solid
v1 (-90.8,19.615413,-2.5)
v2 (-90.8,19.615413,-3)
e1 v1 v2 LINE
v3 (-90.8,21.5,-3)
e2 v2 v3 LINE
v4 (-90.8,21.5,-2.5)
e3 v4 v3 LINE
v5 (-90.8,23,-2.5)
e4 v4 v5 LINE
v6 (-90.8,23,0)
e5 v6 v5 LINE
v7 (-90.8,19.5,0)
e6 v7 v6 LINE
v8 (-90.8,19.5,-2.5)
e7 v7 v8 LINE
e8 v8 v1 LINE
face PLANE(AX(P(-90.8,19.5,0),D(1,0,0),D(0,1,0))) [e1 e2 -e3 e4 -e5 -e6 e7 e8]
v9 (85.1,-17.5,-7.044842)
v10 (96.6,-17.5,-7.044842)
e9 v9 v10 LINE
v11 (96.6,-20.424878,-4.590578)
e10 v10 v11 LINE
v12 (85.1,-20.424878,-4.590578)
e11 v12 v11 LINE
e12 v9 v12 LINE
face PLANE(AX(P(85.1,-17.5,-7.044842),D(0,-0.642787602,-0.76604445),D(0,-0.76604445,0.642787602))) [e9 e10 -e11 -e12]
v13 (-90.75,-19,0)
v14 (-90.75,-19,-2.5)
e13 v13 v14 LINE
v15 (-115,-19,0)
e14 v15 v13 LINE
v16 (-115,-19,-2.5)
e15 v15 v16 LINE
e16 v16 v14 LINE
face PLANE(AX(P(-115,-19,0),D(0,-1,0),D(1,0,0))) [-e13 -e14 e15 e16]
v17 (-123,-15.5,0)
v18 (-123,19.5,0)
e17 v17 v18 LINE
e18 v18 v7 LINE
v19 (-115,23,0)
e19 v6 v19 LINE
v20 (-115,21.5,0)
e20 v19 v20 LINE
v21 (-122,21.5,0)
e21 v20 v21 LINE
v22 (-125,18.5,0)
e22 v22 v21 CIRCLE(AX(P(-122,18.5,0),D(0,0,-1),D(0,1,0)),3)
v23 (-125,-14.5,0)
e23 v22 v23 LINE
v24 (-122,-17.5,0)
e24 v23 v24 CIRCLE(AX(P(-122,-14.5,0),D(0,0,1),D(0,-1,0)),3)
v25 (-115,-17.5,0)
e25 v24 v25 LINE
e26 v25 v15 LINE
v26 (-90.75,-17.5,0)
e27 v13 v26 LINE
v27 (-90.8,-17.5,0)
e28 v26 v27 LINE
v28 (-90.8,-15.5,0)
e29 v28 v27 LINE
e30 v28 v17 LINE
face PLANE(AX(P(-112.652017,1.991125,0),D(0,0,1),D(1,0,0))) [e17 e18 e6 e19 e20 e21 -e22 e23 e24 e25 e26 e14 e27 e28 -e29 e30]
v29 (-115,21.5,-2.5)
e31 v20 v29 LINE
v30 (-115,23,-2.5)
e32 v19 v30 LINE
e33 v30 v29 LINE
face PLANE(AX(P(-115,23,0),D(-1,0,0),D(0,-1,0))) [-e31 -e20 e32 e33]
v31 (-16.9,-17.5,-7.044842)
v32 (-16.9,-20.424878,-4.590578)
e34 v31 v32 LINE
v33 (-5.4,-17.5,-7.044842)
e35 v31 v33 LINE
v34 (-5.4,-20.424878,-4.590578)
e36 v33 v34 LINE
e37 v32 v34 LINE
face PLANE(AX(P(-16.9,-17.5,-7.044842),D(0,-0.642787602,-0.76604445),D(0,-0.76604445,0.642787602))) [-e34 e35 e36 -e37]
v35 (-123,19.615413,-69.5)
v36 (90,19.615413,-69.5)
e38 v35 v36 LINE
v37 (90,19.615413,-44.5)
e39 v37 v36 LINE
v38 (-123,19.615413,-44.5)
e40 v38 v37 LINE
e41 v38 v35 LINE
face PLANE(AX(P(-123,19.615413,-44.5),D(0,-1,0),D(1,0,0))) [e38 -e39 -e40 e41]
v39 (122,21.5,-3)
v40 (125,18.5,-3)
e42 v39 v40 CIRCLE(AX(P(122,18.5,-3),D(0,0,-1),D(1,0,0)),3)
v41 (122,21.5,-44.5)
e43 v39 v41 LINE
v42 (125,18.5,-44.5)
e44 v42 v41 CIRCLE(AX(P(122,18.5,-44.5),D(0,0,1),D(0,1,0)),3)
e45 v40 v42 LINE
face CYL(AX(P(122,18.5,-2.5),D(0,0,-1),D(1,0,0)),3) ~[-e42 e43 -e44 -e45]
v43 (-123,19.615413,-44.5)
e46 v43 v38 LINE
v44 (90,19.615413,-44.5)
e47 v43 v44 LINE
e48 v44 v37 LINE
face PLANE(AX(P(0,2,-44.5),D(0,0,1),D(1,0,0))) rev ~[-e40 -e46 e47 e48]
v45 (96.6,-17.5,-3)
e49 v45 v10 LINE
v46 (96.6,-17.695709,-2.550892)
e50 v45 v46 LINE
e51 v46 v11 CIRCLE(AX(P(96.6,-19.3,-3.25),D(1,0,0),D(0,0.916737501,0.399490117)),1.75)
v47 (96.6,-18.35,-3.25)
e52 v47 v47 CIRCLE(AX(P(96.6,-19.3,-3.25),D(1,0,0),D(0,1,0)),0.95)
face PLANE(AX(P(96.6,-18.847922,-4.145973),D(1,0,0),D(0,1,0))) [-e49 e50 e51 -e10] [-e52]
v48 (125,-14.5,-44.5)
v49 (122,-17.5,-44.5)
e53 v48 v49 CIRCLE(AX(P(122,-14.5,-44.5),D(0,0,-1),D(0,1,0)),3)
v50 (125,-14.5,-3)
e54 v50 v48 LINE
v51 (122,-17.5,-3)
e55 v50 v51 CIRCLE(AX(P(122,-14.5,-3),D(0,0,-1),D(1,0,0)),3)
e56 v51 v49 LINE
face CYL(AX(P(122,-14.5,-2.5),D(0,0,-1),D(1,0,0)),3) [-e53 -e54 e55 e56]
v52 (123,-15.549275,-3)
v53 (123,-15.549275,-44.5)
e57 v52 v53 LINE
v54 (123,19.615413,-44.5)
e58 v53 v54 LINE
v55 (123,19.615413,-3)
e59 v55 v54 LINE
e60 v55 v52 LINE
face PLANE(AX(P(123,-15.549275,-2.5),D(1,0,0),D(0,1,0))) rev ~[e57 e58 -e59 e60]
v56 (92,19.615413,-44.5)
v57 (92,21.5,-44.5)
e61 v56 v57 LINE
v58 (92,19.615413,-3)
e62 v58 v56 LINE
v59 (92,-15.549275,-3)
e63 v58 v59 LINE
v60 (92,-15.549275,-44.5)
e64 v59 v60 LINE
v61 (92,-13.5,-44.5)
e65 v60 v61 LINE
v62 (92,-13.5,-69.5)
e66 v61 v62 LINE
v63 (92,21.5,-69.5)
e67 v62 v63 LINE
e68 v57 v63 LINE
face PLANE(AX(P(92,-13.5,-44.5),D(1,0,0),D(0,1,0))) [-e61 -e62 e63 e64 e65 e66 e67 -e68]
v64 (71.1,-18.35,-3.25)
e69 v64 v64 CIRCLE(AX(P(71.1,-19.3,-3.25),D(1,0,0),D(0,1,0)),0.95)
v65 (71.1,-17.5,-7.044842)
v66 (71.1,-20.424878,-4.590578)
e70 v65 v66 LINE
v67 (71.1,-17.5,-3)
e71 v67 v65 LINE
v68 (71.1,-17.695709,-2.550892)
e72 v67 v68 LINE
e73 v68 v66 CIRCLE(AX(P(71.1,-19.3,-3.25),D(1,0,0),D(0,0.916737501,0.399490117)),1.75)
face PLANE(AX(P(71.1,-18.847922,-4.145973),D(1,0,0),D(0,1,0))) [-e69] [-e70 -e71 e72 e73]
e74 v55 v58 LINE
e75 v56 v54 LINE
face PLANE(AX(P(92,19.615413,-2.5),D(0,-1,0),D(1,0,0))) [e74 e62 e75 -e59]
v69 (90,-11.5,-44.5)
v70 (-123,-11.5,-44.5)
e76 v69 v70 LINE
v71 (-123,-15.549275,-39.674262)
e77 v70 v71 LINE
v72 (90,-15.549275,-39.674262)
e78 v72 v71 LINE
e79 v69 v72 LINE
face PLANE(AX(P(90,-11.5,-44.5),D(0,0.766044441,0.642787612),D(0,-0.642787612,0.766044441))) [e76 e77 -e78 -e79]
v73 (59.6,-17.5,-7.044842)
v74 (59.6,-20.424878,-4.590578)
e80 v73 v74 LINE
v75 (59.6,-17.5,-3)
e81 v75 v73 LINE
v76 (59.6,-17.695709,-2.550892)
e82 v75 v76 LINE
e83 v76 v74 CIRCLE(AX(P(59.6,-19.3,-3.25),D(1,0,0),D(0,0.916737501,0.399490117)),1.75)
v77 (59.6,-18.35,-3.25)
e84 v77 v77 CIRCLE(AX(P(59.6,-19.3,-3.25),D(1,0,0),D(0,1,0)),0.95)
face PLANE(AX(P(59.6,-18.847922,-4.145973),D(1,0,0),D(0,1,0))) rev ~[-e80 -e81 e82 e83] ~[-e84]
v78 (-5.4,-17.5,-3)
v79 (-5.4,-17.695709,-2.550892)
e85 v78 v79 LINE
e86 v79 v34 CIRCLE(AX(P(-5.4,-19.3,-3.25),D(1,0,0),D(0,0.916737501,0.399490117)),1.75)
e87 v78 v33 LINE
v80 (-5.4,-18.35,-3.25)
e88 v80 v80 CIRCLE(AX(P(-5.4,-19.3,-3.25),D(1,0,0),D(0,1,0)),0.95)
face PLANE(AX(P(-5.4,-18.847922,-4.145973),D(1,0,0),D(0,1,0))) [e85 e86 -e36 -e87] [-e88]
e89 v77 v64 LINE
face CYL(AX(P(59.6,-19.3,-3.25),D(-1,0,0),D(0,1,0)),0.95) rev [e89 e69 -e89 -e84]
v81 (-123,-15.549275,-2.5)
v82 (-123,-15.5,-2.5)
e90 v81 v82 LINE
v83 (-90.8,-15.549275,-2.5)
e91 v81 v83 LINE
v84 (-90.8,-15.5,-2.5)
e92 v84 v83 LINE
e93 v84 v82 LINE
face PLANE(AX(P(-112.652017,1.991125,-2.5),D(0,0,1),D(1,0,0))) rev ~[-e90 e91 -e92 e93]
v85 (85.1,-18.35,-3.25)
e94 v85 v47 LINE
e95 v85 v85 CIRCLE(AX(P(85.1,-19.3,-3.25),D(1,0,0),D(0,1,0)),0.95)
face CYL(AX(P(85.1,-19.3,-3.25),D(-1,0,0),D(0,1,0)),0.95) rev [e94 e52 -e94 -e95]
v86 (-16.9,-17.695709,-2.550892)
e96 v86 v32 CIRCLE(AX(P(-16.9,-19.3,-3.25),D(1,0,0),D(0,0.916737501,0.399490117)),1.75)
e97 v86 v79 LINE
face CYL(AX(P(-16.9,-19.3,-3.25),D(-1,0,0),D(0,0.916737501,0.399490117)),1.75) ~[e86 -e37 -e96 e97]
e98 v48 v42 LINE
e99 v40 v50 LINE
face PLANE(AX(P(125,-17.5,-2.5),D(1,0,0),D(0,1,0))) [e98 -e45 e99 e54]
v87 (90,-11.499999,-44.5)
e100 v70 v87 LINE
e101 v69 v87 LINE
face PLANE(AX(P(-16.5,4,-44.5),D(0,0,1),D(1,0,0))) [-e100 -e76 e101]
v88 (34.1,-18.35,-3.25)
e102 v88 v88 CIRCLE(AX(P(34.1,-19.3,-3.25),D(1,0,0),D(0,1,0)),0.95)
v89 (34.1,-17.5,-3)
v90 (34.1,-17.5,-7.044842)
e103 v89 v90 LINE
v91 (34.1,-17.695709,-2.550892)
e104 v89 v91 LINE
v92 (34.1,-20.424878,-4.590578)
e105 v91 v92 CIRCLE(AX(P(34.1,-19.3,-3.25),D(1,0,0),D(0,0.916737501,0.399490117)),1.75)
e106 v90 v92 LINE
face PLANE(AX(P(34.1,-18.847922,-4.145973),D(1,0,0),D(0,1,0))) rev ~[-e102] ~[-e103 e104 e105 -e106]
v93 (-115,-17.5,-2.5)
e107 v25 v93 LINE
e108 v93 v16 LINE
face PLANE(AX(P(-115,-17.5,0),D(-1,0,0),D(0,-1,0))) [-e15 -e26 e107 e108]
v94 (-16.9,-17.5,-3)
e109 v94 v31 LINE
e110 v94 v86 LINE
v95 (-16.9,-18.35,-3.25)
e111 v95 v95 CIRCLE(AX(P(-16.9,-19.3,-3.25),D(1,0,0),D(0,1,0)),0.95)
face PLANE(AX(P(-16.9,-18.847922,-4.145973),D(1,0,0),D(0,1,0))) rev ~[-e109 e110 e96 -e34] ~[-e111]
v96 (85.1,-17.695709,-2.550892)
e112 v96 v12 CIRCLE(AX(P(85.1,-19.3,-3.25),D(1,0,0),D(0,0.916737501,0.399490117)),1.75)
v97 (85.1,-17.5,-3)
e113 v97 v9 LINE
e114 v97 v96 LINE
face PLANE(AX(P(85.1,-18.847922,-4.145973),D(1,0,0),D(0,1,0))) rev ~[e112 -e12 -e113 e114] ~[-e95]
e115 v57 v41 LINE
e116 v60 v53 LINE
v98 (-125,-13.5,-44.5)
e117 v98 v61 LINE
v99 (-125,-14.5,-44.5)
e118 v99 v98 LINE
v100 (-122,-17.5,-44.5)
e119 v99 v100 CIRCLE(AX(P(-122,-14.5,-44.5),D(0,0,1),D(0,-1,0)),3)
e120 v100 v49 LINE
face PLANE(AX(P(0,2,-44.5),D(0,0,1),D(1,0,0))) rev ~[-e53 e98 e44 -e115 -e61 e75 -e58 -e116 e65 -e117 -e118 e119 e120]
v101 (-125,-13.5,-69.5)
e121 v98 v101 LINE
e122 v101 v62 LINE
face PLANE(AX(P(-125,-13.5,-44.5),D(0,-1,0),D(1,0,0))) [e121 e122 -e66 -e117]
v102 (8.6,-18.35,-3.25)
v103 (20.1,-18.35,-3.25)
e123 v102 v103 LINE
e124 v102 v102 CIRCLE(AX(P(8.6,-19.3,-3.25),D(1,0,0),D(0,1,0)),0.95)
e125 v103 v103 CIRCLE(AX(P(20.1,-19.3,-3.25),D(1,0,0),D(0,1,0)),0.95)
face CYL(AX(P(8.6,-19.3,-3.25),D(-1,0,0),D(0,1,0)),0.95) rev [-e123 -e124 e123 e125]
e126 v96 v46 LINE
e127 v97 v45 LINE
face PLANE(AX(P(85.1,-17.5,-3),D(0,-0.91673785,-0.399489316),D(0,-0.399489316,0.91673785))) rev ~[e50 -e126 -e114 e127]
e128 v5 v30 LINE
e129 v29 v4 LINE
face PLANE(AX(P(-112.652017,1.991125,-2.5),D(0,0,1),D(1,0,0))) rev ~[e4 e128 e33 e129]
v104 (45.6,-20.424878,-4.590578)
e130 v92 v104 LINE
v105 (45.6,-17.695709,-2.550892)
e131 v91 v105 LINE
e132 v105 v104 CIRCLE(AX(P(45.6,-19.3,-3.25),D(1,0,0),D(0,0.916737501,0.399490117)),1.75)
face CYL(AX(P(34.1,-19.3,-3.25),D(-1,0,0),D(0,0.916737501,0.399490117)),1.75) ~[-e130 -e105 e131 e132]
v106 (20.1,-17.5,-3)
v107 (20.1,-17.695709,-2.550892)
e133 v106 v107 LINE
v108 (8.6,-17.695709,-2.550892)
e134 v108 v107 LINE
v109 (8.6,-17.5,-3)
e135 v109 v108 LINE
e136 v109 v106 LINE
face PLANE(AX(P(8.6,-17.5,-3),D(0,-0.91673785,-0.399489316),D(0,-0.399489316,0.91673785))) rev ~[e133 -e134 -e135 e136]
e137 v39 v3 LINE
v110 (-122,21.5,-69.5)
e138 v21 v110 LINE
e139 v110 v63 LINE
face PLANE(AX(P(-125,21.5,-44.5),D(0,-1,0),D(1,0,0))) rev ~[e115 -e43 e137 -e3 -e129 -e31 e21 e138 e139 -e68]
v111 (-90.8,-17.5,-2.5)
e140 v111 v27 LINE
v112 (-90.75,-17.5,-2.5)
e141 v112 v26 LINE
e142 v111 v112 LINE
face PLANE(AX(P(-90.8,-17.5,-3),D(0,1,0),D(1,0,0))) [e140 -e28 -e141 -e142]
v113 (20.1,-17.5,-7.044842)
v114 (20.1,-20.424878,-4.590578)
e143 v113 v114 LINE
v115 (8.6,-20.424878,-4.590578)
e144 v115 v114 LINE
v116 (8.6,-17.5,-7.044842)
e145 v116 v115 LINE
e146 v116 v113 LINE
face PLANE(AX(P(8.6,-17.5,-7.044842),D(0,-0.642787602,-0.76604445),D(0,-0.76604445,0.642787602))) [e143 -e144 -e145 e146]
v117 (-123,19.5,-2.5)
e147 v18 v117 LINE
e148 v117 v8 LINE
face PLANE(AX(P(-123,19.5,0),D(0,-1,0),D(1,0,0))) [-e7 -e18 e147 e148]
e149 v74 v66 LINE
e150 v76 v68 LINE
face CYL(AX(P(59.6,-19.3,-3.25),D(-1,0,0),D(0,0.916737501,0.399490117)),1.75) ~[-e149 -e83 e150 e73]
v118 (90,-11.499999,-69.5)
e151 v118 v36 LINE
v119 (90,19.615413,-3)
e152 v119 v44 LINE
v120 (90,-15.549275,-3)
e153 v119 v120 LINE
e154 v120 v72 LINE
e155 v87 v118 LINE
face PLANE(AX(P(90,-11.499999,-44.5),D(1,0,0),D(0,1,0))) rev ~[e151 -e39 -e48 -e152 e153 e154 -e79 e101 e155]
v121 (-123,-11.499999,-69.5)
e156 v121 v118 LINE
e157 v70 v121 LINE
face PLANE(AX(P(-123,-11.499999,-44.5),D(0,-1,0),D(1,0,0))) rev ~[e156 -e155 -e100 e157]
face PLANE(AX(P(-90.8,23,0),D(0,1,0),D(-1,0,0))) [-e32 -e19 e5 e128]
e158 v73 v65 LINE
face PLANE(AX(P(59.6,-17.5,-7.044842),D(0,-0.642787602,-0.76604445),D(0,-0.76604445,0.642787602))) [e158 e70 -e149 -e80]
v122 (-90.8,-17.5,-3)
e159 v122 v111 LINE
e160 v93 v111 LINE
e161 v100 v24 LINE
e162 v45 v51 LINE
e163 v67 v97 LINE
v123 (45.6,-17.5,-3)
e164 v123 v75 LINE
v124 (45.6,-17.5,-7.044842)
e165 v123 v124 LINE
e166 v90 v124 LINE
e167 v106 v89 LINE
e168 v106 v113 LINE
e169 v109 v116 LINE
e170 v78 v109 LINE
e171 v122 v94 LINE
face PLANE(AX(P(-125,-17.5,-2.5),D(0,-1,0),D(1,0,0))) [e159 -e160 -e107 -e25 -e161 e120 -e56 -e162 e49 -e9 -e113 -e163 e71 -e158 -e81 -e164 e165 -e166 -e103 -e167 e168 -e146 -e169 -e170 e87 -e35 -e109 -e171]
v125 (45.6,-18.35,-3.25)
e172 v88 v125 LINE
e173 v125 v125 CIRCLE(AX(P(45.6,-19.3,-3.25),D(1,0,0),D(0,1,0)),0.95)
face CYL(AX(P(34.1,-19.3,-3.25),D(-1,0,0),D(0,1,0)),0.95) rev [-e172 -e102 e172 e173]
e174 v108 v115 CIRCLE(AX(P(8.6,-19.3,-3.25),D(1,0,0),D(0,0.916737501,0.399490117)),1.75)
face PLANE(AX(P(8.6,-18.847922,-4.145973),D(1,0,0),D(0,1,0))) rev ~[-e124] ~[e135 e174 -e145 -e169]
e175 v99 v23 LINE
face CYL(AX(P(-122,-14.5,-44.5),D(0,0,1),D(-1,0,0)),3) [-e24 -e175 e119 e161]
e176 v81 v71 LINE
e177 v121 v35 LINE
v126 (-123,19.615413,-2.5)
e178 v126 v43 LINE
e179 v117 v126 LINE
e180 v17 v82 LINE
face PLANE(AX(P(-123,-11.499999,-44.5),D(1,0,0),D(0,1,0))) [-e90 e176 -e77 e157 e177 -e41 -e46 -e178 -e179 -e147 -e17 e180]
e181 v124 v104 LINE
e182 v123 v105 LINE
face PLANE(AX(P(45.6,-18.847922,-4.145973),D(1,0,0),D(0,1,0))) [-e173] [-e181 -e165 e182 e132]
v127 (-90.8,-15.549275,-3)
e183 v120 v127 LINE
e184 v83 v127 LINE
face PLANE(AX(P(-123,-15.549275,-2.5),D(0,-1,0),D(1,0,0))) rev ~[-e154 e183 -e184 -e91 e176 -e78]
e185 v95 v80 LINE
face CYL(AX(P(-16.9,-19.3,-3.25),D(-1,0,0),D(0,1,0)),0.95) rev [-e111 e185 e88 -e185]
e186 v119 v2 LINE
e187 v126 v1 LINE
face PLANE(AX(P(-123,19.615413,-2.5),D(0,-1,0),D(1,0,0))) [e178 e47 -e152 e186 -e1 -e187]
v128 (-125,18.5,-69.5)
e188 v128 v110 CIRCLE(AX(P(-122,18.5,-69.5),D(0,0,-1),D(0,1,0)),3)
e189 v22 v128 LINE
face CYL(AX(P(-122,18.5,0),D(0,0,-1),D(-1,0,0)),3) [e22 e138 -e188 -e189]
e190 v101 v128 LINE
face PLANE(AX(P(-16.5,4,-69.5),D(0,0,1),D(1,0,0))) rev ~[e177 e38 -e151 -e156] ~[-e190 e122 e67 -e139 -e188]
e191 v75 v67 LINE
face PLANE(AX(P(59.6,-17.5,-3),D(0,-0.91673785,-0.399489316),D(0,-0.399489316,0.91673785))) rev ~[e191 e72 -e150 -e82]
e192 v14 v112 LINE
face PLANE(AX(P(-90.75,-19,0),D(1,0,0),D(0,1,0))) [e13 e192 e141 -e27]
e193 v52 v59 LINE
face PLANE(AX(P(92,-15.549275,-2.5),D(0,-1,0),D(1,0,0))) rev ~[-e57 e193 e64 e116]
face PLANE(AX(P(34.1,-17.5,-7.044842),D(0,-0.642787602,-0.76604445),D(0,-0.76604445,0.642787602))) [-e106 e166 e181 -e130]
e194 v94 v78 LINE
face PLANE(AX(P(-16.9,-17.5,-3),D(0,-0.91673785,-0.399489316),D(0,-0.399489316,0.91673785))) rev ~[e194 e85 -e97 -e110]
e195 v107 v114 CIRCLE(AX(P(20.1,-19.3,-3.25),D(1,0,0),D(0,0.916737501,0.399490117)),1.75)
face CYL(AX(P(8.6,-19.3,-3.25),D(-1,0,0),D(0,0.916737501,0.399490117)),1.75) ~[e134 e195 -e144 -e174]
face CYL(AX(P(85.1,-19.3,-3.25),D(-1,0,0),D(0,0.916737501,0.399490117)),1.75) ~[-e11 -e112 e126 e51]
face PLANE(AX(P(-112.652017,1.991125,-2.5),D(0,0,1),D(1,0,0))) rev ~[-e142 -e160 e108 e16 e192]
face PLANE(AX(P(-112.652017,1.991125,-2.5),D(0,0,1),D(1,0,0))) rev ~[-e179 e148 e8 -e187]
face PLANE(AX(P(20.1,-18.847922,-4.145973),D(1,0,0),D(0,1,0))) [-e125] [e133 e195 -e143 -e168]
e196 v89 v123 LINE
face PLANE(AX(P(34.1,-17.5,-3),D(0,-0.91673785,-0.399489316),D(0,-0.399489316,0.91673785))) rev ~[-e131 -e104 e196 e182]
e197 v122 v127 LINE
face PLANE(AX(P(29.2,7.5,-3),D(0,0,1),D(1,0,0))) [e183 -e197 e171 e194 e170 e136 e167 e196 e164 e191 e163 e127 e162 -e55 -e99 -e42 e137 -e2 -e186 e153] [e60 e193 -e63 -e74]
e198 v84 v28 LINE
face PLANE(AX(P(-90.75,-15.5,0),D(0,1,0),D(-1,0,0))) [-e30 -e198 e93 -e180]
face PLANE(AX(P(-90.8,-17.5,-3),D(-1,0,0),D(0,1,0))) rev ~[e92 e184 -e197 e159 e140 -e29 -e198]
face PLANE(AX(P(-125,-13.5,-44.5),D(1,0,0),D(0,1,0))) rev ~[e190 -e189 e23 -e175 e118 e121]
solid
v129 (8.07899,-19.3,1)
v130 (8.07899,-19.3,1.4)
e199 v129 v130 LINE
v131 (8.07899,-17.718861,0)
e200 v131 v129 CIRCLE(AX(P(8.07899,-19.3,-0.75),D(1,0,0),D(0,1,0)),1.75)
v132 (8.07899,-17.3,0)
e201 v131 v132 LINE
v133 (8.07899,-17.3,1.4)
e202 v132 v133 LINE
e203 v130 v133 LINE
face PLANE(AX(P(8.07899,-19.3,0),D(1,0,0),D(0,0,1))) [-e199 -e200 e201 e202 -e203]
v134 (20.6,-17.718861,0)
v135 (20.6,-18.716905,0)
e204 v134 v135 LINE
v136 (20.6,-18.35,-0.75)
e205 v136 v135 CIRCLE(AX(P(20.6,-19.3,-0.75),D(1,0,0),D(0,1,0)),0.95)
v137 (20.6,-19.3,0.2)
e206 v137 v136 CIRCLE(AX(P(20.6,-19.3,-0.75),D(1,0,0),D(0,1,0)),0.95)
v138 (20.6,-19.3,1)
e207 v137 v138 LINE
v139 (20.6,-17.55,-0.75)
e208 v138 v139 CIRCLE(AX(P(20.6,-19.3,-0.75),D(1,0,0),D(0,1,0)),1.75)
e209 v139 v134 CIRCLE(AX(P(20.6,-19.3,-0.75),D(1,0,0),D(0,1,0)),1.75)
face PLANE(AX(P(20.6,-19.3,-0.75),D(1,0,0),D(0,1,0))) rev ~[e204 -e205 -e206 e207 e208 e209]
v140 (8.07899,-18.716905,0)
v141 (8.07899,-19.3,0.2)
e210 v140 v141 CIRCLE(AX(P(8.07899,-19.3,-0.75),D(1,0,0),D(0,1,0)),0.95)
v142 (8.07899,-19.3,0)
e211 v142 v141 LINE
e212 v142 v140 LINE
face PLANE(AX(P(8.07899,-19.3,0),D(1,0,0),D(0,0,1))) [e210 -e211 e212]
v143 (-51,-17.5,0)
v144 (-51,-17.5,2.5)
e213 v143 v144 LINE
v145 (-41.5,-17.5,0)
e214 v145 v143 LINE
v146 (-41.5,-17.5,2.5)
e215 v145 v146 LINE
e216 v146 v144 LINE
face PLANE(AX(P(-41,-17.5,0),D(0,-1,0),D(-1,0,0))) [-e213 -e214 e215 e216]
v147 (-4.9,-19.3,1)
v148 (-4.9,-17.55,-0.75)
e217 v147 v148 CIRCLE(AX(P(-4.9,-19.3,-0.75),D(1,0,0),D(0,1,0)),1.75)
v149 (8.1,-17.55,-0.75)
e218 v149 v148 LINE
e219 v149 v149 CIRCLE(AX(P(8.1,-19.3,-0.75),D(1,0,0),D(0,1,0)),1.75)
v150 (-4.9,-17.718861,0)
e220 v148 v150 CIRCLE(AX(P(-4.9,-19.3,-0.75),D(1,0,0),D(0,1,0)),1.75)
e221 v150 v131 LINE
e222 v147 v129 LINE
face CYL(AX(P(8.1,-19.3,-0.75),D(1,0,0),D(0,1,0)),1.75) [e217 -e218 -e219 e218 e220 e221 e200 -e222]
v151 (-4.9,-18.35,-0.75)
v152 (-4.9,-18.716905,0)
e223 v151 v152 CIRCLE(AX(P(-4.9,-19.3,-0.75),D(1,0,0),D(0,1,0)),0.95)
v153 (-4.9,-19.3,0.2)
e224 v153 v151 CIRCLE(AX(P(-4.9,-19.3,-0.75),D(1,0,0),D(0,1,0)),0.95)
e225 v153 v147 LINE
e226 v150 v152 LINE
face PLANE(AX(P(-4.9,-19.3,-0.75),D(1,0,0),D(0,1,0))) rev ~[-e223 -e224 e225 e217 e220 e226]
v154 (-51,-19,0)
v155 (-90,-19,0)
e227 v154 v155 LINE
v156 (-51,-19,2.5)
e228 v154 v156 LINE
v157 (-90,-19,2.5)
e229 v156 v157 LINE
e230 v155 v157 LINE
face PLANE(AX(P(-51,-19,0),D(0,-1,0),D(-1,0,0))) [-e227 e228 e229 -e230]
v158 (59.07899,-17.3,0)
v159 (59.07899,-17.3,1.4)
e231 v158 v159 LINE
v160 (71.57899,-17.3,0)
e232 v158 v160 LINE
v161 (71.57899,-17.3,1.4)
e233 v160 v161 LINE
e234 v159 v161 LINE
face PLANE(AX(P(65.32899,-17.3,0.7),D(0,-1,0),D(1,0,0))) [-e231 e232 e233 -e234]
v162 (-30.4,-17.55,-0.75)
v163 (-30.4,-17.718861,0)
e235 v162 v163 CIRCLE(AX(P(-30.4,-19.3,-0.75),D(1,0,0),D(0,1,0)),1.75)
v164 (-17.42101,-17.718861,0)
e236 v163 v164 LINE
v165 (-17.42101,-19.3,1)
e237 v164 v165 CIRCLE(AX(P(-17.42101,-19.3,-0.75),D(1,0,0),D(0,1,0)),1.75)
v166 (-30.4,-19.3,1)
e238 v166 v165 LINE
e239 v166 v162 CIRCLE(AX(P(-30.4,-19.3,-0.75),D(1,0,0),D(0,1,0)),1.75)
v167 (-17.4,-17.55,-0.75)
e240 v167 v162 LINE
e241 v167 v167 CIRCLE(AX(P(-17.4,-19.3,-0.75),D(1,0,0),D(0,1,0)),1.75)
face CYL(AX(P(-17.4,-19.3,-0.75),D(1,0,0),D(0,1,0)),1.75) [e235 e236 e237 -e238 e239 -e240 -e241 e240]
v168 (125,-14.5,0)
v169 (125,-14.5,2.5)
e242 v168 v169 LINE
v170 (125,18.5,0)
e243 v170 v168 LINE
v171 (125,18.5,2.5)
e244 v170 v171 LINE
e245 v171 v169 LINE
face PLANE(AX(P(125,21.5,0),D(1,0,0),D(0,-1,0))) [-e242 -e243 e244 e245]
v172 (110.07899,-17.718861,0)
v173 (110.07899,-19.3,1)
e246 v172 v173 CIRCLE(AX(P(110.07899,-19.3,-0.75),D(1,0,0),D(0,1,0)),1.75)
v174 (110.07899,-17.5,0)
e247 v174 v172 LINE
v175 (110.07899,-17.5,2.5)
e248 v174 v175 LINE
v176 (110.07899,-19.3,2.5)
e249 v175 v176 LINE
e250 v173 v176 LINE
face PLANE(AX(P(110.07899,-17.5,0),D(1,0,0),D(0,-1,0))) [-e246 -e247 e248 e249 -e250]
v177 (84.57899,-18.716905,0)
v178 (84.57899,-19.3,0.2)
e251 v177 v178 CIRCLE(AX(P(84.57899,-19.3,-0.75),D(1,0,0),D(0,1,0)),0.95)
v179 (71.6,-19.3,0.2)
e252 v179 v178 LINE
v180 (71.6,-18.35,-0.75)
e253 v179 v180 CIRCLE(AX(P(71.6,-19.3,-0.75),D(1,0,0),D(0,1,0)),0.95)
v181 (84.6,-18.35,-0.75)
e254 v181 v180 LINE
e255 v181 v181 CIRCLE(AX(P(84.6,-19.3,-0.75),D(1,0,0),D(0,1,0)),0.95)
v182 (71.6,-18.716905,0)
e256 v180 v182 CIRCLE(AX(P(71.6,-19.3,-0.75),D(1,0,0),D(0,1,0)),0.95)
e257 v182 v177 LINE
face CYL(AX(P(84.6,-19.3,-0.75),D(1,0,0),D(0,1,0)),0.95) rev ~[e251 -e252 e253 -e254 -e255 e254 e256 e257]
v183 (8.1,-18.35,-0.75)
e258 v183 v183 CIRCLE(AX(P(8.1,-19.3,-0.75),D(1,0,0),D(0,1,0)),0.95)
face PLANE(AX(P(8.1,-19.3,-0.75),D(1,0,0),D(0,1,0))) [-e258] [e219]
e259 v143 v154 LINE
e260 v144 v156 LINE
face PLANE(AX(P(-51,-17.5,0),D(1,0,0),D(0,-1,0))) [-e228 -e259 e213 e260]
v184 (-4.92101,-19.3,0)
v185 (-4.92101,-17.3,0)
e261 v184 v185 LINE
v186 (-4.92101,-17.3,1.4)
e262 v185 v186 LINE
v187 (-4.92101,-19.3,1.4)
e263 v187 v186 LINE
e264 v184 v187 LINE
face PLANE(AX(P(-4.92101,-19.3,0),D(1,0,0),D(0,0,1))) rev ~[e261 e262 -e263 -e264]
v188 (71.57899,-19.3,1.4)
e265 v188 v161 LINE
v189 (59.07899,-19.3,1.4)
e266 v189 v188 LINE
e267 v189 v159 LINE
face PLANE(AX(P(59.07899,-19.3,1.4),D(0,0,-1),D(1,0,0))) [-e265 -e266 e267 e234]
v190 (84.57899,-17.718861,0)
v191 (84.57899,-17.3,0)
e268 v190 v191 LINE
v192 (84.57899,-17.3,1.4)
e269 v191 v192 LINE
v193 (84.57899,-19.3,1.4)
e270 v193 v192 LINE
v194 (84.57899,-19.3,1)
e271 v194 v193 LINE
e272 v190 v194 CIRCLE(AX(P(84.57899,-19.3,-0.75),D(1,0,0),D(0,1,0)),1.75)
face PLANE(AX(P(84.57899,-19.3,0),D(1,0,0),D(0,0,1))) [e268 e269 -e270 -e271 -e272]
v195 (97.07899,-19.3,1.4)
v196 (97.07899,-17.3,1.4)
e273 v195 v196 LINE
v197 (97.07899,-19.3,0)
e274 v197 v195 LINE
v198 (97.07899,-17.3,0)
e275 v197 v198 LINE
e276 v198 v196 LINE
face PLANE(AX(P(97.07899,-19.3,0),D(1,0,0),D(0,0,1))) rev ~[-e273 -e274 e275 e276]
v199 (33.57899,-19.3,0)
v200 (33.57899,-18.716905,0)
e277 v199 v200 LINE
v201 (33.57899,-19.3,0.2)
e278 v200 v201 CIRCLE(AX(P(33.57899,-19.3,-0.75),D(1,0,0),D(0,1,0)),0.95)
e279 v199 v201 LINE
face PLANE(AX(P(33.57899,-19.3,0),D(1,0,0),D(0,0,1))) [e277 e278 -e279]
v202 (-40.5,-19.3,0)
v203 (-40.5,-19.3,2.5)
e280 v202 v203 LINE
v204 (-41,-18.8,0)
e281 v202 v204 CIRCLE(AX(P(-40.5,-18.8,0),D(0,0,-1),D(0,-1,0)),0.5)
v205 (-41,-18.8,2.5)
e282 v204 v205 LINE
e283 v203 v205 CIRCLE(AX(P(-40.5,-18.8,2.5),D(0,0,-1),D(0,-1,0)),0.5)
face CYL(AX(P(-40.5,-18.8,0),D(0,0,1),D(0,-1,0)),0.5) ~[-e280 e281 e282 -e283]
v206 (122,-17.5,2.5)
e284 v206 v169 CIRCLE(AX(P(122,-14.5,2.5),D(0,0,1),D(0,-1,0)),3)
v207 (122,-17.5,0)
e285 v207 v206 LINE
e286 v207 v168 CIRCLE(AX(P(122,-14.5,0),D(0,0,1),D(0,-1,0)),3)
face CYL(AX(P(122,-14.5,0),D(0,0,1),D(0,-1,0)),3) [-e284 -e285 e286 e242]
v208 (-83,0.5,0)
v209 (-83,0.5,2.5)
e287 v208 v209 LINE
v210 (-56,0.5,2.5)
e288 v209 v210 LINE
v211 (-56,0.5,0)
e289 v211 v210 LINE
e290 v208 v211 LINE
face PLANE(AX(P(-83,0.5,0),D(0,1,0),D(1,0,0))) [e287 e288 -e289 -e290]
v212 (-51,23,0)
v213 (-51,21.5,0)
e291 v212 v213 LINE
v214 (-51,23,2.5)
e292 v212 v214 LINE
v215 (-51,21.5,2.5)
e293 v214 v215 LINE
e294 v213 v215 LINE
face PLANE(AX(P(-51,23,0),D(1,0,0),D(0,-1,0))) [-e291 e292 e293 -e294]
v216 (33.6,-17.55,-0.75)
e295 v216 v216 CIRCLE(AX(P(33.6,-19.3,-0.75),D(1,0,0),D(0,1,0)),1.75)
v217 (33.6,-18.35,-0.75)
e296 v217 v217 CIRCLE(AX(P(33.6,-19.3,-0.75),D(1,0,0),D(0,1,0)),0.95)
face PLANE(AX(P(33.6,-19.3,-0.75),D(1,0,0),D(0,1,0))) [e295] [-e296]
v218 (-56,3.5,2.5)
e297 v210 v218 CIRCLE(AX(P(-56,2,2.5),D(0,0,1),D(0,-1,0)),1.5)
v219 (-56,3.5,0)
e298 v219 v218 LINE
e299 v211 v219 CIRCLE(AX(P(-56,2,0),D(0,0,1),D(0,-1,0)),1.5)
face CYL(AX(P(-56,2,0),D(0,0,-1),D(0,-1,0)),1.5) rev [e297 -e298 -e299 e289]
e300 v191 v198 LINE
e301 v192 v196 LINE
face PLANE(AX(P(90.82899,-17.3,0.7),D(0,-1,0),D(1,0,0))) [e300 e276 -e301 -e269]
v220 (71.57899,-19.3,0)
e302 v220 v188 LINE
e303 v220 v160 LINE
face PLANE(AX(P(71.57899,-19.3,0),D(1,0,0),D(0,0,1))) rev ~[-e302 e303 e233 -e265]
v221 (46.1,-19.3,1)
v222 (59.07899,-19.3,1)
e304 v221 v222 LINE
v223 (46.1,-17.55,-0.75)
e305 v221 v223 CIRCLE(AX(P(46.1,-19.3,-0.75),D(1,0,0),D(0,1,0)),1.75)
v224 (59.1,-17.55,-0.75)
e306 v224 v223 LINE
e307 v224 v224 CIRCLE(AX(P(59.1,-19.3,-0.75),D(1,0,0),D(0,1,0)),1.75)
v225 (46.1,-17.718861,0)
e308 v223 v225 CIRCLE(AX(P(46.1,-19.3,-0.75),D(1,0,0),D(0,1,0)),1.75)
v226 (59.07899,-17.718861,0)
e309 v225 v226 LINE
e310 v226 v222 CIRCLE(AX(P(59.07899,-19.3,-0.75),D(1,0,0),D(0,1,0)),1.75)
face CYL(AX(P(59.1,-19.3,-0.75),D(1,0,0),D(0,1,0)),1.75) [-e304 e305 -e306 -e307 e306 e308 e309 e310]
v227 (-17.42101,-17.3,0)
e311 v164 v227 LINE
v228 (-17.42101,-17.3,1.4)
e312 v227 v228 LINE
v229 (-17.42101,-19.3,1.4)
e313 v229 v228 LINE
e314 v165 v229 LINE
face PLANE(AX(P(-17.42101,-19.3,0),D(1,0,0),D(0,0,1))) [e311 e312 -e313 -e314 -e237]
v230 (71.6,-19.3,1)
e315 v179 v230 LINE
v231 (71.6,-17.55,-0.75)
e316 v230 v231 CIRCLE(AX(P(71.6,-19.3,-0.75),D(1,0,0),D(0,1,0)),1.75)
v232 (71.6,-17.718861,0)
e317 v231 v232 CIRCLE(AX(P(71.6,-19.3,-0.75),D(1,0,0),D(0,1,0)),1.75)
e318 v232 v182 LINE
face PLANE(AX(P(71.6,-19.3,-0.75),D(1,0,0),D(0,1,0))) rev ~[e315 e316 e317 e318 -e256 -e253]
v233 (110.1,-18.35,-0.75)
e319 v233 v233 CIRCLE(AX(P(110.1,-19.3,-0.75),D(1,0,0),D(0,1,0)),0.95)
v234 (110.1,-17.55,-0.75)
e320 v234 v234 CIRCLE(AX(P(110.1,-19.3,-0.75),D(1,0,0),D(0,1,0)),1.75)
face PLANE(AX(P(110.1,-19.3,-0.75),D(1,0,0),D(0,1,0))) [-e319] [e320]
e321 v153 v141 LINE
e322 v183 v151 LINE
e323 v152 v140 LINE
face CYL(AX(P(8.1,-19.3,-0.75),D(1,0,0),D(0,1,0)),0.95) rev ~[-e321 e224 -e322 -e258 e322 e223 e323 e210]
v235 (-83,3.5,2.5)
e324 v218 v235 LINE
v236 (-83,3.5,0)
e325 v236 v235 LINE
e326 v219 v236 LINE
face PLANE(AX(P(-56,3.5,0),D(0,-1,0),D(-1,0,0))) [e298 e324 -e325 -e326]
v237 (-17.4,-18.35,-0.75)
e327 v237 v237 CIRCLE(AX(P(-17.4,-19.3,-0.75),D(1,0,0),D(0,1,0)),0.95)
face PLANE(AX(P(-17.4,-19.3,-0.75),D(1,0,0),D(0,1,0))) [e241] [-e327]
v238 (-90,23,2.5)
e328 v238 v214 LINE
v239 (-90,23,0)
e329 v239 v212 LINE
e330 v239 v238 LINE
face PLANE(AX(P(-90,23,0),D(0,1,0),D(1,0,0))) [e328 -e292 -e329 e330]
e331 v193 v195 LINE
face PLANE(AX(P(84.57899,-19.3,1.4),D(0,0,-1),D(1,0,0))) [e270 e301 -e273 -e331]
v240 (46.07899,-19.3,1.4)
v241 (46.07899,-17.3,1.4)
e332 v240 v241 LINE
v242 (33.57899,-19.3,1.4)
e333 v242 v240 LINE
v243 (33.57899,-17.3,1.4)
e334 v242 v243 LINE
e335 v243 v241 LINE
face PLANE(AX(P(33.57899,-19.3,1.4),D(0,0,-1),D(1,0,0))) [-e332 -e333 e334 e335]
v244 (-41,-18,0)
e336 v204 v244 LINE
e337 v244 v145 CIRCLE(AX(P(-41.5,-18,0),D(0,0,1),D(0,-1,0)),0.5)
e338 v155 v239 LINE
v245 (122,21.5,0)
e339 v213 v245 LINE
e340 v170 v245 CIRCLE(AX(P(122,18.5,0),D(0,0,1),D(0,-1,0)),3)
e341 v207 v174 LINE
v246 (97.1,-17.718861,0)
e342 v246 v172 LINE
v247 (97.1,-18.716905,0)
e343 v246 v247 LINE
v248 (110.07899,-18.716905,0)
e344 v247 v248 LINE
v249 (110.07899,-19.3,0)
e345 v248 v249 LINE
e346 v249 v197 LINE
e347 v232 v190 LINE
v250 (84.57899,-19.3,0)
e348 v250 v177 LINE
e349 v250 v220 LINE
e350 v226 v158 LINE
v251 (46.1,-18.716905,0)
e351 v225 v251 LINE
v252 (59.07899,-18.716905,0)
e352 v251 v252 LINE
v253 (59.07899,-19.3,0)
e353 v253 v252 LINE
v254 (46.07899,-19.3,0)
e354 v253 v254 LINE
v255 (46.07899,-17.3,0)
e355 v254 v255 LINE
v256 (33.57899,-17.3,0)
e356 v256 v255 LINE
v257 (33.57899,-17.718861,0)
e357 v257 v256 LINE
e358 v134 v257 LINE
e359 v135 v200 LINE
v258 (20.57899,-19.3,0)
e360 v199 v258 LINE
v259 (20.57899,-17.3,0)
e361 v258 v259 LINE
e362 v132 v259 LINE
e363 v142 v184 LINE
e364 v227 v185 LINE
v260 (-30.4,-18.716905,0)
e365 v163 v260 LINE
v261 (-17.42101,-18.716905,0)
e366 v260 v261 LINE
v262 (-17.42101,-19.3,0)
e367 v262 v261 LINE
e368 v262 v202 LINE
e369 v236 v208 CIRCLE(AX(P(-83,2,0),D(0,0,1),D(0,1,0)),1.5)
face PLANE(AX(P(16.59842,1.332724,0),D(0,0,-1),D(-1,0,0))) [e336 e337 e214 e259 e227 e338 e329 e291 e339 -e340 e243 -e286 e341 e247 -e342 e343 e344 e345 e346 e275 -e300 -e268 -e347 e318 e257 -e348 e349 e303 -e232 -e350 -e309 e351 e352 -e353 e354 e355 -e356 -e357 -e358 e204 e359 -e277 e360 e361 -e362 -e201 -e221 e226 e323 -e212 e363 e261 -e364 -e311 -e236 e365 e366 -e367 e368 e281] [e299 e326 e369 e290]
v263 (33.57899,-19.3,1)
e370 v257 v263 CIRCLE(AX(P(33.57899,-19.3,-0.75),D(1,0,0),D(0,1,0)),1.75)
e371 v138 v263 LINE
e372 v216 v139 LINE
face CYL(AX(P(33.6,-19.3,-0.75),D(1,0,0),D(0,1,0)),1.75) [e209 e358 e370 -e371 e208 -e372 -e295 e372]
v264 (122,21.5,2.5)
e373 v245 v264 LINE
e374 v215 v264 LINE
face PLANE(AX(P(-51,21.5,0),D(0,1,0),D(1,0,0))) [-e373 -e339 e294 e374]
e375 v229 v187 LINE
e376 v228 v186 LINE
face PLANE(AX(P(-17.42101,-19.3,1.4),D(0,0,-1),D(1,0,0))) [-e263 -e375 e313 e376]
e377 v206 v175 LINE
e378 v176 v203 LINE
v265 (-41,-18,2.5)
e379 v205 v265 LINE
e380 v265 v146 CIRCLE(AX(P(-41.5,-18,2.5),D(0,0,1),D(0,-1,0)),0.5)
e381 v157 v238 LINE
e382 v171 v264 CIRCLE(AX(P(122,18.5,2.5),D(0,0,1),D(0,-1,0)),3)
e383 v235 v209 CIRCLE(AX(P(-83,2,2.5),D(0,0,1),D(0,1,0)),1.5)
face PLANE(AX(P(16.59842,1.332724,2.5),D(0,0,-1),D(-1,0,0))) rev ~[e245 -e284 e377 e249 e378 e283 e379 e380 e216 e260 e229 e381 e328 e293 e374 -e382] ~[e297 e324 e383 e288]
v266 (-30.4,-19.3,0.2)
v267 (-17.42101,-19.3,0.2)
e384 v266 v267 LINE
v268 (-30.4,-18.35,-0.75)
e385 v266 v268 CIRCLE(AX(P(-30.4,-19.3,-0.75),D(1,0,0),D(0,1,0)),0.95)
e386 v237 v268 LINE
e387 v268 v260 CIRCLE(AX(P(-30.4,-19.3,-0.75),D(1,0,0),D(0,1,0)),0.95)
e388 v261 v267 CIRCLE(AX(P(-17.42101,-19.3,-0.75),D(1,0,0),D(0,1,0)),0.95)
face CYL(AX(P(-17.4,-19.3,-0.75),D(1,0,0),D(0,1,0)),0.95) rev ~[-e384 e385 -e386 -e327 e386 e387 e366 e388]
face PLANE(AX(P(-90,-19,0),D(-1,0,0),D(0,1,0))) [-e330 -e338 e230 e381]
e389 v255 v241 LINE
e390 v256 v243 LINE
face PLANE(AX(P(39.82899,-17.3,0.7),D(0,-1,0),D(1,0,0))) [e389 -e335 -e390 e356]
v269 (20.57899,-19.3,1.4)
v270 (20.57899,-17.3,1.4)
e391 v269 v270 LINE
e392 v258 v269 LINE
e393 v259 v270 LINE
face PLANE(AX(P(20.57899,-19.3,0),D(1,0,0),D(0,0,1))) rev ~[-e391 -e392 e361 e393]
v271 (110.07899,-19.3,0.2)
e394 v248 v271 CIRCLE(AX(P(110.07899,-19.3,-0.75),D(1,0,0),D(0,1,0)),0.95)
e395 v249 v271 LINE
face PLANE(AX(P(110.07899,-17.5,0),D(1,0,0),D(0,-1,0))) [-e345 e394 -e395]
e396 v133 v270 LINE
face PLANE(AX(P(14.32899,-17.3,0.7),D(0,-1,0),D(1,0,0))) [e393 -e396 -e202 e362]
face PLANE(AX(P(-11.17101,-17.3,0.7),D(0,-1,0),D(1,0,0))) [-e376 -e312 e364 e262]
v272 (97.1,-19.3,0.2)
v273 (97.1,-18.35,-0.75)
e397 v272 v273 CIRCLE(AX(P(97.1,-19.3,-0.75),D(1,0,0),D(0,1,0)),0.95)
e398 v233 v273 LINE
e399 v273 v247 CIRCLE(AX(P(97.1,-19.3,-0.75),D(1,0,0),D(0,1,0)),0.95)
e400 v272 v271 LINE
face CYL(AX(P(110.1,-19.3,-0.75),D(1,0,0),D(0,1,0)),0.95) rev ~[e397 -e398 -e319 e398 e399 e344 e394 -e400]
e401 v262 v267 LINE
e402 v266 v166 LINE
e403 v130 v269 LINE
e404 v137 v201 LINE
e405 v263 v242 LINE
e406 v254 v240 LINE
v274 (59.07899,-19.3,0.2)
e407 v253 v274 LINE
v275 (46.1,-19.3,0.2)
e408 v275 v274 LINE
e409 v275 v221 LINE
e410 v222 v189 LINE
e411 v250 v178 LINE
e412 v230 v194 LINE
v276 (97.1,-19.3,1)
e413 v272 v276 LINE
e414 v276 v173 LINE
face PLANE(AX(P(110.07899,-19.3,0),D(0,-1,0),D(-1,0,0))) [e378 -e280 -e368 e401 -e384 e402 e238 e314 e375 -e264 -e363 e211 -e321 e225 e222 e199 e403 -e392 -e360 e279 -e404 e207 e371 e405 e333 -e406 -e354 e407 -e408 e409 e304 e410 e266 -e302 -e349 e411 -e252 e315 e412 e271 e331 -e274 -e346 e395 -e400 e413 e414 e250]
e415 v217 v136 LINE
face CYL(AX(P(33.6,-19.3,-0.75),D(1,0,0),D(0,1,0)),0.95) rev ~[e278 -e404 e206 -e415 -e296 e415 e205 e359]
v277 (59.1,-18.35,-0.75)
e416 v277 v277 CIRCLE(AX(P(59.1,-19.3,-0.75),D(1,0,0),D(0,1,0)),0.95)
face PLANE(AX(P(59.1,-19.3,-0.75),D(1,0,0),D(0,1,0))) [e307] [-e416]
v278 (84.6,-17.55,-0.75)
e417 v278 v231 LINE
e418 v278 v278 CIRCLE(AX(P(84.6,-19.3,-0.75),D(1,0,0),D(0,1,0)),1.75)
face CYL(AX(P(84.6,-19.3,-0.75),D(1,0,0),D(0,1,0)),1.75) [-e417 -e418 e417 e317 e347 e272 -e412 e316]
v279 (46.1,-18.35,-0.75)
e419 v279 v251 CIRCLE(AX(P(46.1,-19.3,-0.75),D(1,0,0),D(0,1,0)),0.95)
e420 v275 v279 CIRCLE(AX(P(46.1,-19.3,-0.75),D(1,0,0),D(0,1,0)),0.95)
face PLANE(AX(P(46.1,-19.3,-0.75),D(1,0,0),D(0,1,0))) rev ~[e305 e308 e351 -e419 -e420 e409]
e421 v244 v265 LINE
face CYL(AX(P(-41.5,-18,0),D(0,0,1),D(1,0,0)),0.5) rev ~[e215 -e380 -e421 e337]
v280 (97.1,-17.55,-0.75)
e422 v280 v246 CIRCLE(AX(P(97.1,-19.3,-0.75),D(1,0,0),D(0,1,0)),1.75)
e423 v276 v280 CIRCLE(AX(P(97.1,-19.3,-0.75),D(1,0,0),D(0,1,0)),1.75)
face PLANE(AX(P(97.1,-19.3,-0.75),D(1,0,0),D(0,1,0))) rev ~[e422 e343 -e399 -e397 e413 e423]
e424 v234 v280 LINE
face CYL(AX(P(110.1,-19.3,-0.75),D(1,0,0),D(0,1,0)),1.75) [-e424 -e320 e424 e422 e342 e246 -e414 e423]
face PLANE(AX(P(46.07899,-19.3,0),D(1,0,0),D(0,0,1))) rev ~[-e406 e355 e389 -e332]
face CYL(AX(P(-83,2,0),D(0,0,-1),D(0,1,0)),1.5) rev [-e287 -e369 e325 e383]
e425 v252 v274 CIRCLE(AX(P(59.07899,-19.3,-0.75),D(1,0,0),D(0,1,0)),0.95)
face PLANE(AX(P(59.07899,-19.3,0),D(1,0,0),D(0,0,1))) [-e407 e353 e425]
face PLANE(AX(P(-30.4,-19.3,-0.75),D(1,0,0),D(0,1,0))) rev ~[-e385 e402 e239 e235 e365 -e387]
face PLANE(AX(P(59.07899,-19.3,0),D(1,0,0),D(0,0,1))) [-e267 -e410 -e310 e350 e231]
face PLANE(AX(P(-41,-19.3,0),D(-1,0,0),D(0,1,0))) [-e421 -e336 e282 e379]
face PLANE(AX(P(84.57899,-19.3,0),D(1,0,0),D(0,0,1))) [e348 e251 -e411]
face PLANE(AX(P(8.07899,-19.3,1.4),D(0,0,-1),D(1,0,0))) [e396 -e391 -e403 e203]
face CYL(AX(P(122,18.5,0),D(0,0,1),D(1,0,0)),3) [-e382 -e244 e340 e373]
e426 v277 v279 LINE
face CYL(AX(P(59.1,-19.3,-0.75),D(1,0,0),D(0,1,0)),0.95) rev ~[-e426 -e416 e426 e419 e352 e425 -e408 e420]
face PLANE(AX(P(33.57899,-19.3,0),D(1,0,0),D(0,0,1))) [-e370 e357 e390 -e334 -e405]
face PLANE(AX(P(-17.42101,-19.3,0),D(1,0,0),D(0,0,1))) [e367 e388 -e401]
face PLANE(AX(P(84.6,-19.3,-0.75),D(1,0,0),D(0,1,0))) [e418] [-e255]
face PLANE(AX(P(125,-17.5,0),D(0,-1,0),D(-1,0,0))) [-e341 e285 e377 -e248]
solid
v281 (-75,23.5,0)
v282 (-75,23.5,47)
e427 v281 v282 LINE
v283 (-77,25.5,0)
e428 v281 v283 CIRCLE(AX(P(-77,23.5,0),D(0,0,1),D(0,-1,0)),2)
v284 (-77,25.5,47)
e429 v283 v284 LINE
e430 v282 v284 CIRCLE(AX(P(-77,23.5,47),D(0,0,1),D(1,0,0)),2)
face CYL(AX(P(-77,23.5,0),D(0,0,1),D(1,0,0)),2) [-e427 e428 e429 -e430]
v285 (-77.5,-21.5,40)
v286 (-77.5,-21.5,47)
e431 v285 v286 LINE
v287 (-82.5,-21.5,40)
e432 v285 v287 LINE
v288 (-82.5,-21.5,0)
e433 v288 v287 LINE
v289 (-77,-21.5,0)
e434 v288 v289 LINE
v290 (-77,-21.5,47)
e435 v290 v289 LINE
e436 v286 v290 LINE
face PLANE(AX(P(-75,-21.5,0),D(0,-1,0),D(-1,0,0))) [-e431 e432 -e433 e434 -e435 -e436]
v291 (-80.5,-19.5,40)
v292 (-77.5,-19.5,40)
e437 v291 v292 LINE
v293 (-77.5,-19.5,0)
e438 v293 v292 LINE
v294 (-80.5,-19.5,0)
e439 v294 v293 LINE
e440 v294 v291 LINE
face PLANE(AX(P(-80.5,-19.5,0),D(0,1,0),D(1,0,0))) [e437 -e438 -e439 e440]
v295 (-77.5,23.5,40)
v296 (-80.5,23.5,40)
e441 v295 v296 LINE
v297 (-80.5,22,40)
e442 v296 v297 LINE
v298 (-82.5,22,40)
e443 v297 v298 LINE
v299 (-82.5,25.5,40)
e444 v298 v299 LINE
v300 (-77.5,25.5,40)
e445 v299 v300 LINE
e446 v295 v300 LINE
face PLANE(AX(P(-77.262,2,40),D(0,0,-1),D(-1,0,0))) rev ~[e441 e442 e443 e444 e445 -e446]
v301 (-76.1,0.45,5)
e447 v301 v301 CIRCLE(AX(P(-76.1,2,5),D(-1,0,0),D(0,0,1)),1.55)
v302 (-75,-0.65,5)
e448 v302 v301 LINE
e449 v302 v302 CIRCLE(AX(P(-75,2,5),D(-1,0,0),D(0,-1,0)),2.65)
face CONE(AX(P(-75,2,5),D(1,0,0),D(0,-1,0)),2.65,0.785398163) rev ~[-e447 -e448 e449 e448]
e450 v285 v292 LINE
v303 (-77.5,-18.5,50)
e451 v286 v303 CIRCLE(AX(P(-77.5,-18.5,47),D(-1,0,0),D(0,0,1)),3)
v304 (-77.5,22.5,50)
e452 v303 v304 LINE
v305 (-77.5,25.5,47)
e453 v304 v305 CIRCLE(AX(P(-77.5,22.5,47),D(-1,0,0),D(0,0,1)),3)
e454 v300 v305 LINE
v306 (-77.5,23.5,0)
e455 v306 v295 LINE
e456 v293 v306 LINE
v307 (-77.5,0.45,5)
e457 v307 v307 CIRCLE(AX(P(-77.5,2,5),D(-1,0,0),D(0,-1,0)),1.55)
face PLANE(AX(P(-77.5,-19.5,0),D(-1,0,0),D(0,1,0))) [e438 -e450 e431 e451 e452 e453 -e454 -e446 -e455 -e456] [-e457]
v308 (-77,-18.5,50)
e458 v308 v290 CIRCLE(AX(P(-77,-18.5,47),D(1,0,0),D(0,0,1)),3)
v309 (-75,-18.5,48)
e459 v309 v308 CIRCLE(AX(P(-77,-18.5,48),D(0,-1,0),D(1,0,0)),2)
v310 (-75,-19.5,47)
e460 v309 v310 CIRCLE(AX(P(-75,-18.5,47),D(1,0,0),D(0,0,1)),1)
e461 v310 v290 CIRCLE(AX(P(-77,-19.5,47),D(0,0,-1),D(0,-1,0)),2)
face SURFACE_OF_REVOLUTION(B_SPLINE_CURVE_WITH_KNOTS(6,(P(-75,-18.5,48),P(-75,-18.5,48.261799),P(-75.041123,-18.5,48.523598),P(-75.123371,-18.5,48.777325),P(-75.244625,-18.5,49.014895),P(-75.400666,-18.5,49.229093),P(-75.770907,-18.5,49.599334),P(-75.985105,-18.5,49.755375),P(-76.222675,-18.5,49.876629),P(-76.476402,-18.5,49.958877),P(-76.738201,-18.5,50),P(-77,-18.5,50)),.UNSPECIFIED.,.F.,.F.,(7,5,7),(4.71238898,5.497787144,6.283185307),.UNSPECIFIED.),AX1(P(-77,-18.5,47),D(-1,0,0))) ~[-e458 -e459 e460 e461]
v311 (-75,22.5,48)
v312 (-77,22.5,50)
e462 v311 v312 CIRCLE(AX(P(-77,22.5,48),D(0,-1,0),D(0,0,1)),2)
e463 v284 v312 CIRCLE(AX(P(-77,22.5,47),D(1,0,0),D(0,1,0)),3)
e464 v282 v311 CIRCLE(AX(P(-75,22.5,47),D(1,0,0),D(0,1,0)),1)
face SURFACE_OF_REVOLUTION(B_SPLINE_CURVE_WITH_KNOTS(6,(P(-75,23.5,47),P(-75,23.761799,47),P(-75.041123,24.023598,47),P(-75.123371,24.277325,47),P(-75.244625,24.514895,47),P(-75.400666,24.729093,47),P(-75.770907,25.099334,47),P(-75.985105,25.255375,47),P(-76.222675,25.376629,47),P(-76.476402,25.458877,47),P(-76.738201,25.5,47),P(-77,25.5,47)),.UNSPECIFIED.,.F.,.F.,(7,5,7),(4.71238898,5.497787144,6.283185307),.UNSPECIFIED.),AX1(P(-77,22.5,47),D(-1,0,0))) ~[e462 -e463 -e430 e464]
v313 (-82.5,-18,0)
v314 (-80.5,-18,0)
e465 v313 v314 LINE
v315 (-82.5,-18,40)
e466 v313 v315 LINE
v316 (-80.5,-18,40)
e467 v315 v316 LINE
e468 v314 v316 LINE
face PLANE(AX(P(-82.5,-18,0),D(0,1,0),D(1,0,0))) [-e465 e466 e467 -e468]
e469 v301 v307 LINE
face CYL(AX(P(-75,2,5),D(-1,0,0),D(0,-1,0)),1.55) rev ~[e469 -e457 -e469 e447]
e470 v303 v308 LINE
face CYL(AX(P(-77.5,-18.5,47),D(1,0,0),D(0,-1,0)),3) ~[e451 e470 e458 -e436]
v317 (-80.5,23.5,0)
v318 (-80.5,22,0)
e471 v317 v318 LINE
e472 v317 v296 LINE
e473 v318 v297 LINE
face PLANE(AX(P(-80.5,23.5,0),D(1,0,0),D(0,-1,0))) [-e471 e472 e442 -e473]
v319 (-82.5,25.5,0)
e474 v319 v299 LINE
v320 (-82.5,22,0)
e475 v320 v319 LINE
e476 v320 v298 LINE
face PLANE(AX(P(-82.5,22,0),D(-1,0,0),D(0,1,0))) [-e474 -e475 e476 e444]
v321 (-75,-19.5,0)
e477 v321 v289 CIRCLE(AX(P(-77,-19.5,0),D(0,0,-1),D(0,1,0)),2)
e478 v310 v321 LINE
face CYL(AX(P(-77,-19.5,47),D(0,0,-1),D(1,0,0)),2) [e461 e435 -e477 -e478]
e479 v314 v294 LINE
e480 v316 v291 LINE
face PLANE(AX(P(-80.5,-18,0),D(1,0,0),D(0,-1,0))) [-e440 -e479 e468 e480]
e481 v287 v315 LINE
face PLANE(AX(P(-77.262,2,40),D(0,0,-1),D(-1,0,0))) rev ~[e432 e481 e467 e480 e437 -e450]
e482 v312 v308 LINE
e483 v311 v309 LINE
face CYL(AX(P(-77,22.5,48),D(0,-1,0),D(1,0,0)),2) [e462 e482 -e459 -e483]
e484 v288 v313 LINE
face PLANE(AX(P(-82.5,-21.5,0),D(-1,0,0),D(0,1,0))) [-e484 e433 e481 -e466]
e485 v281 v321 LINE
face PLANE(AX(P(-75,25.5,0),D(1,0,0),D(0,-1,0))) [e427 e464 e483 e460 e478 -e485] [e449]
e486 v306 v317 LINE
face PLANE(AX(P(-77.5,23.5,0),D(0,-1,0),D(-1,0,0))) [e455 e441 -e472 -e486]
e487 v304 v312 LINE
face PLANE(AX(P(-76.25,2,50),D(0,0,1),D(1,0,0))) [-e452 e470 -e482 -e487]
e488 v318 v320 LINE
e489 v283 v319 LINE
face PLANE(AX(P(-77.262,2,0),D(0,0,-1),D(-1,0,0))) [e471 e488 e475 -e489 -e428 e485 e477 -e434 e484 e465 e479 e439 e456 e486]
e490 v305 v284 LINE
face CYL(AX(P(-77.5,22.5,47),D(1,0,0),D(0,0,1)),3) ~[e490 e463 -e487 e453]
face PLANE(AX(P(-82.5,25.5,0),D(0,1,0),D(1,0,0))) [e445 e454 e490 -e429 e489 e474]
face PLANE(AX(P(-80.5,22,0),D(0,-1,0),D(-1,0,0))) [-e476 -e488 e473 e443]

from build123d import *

# Parameters (mm, degrees)
PAD_DEPTH              = 40
SKETCH002_W            = 2.5
SKETCH002_H            = 47
PAD001_DEPTH           = 50
FILLET_R               = 3
FILLET001_R            = 2
HOLE_D                 = 3.1
HOLE_DEPTH             = 19
HOLE_CSINK_D           = 5.3
HOLE_CSINK_ANGLE       = 90
PAD002_DEPTH           = 2.5
FILLET002_R            = 0.5
FILLET004_R            = 3
SKETCH007_W            = 12.5
SKETCH007_H            = 1.4
POCKET_DEPTH           = 2
SKETCH008_R            = 1.75
SKETCH008_R_2          = 0.95
PAD005_DEPTH           = 13
LINEARPATTERN_COUNT    = 6
LINEARPATTERN_PITCH    = 25.5
PAD003_DEPTH           = 2.5
SKETCH006_W            = 250
SKETCH006_H            = 39
SKETCH006_W_2          = 31
SKETCH006_H_2          = 35.164688
SKETCH006_W_3          = 213
PAD004_DEPTH           = 42
PAD006_DEPTH           = 214
SKETCH010_W            = 217
SKETCH010_H            = 35
SKETCH010_W_2          = 213
SKETCH010_H_2          = 31.115413
PAD007_DEPTH           = 25
FILLET005_R            = 3
SKETCH011_R            = 0.95
PAD008_DEPTH           = 11.5
LINEARPATTERN001_COUNT = 5
LINEARPATTERN001_PITCH = 25.5
BOX_W                  = 240
BOX_H                  = 50
BOX_DEPTH              = 10


with BuildPart() as lidlock:
    # Sketch001 → Pad (new body)
    with BuildSketch(Plane.XY):
        Polygon((-75, 25.5), (-75, -21.5), (-82.5, -21.5), (-82.5, -18), (-80.5, -18), (-80.5, -19.5), (-77.5, -19.5), (-77.5, 23.5), (-80.5, 23.5), (-80.5, 22), (-82.5, 22), (-82.5, 25.5), align=None)
    extrude(amount=PAD_DEPTH)

    # Sketch002 → Pad001 (join)
    with BuildSketch(Plane.XY):
        with Locations((-76.25, 2)):
            Rectangle(SKETCH002_W, SKETCH002_H)
    extrude(amount=PAD001_DEPTH)

    # Fillet
    fillet_edges = [lidlock.edges().sort_by_distance(p)[0] for p in [
        (-76.25, -21.5, 50),
        (-76.25, 25.5, 50),
    ]]
    fillet(fillet_edges, radius=FILLET_R)

    # Fillet001
    fillet001_edges = [lidlock.edges().sort_by_distance(p)[0] for p in [
        (-75, -21.5, 20),
    ]]
    fillet(fillet001_edges, radius=FILLET001_R)

    # Hole
    with Locations(Plane.YZ.offset(-75)):
        with Locations((2, 5)):
            CounterSinkHole(HOLE_D / 2, HOLE_CSINK_D / 2, depth=HOLE_DEPTH, counter_sink_angle=HOLE_CSINK_ANGLE)


with BuildPart() as lid:
    # Sketch004 → Pad002 (new body)
    with BuildSketch(Plane.XY):
        Polygon((125, -17.5), (110.07899, -17.5), (110.07899, -19.3), (-41, -19.3), (-41, -17.5), (-51, -17.5), (-51, -19), (-90, -19), (-90, 23), (-51, 23), (-51, 21.5), (125, 21.5), align=None)
        with BuildLine():
            ThreePointArc((-83, 3.5), (-84.5, 2), (-83, 0.5))
            Line((-83, 0.5), (-56, 0.5))
            ThreePointArc((-56, 0.5), (-54.5, 2), (-56, 3.5))
            Line((-56, 3.5), (-83, 3.5))
        make_face(mode=Mode.SUBTRACT)
    extrude(amount=PAD002_DEPTH)

    # Fillet002
    fillet002_edges = [lid.edges().sort_by_distance(p)[0] for p in [
        (-41, -19.3, 1.25),
        (-41, -17.5, 1.25),
    ]]
    fillet(fillet002_edges, radius=FILLET002_R)

    # Fillet004
    fillet004_edges = [lid.edges().sort_by_distance(p)[0] for p in [
        (125, 21.5, 1.25),
        (125, -17.5, 1.25),
    ]]
    fillet(fillet004_edges, radius=FILLET004_R)

    # Sketch007 → Pocket (cut)
    with BuildSketch(Plane.XZ.offset(19.3)):
        with Locations((-11.17101, 0.7)):
            Rectangle(SKETCH007_W, SKETCH007_H)
        with Locations((14.32899, 0.7)):
            Rectangle(SKETCH007_W, SKETCH007_H)
        with Locations((39.82899, 0.7)):
            Rectangle(SKETCH007_W, SKETCH007_H)
        with Locations((65.32899, 0.7)):
            Rectangle(SKETCH007_W, SKETCH007_H)
        with Locations((90.82899, 0.7)):
            Rectangle(SKETCH007_W, SKETCH007_H)
    extrude(amount=-POCKET_DEPTH, mode=Mode.SUBTRACT)

    # Sketch008 → Pad005 (join)
    with BuildSketch(Plane.YZ.offset(110.1)):
        with Locations((-19.3, -0.75)):
            Circle(SKETCH008_R)
        with Locations((-19.3, -0.75)):
            Circle(SKETCH008_R_2, mode=Mode.SUBTRACT)
    pad005 = extrude(amount=-PAD005_DEPTH)

    # LinearPattern: Pad005 ×6
    with Locations(*[(-i * LINEARPATTERN_PITCH, 0, 0) for i in range(1, LINEARPATTERN_COUNT)]):
        add(pad005)


with BuildPart() as lid_1:
    # Body001 placement: moved
    add(lid.part.moved(Location((0, 0, -2.5))))


with BuildPart() as mainbody:
    # Sketch005 → Pad003 (new body)
    with BuildSketch(Plane.XY):
        Polygon((-115, -19), (-90.75, -19), (-90.75, -17.5), (-90.75, -15.5), (-123, -15.5), (-123, 19.5), (-90.8, 19.5), (-90.8, 21.5), (-90.8, 23), (-115, 23), (-115, 21.5), (-125, 21.5), (-125, -17.5), (-115, -17.5), align=None)
    extrude(amount=-PAD003_DEPTH)

    # Sketch006 → Pad004 (join)
    with BuildSketch(Plane.XY.offset(-2.5)):
        with Locations((0, 2)):
            Rectangle(SKETCH006_W, SKETCH006_H)
        with Locations((107.5, 2.033069)):
            Rectangle(SKETCH006_W_2, SKETCH006_H_2, mode=Mode.SUBTRACT)
        with Locations((-16.5, 2.033069)):
            Rectangle(SKETCH006_W_3, SKETCH006_H_2, mode=Mode.SUBTRACT)
    extrude(amount=-PAD004_DEPTH)

    # Sketch009 → Pad006 (join)
    with BuildSketch(Plane.YZ.offset(90)):
        Polygon((-15.549275, -44.5), (-11.5, -44.5), (-15.549275, -39.674262), align=None)
    extrude(amount=-PAD006_DEPTH)

    # Sketch010 (on DatumPlane) → Pad007 (join)
    with BuildSketch(Plane.XY.offset(-44.5)):
        with Locations((-16.5, 4)):
            Rectangle(SKETCH010_W, SKETCH010_H)
        with Locations((-16.5, 4.057707)):
            Rectangle(SKETCH010_W_2, SKETCH010_H_2, mode=Mode.SUBTRACT)
    extrude(amount=-PAD007_DEPTH)

    # Fillet005
    fillet005_edges = [mainbody.edges().sort_by_distance(p)[0] for p in [
        (125, -17.5, -23.5),
        (125, 21.5, -23.5),
        (-125, -17.5, -22.25),
        (-125, 21.5, -22.25),
    ]]
    fillet(fillet005_edges, radius=FILLET005_R)

    # Sketch011 → Pad008 (join)
    with BuildSketch(Plane.YZ.offset(85.1)):
        with BuildLine():
            ThreePointArc((-17.695709, -2.550892), (-20.347635, -1.848229), (-20.424878, -4.590578))
            Line((-17.5, -7.044842), (-20.424878, -4.590578))
            Line((-17.5, -3), (-17.5, -7.044842))
            Line((-17.5, -3), (-17.695709, -2.550892))
        make_face()
        with Locations((-19.3, -3.25)):
            Circle(SKETCH011_R, mode=Mode.SUBTRACT)
    pad008 = extrude(amount=PAD008_DEPTH)

    # LinearPattern001: Pad008 ×5
    with Locations(*[(-i * LINEARPATTERN001_PITCH, 0, 0) for i in range(1, LINEARPATTERN001_COUNT)]):
        add(pad008)

    # Box → Box (cut)
    with BuildSketch(Plane(origin=(-90.8, -17.5, -3), x_dir=(1, 0, 0), z_dir=(0, 0, 1))):
        with Locations((120, 25)):
            Rectangle(BOX_W, BOX_H)
    extrude(amount=BOX_DEPTH, mode=Mode.SUBTRACT)


solid = Compound([lidlock.part, lid_1.part, mainbody.part])
